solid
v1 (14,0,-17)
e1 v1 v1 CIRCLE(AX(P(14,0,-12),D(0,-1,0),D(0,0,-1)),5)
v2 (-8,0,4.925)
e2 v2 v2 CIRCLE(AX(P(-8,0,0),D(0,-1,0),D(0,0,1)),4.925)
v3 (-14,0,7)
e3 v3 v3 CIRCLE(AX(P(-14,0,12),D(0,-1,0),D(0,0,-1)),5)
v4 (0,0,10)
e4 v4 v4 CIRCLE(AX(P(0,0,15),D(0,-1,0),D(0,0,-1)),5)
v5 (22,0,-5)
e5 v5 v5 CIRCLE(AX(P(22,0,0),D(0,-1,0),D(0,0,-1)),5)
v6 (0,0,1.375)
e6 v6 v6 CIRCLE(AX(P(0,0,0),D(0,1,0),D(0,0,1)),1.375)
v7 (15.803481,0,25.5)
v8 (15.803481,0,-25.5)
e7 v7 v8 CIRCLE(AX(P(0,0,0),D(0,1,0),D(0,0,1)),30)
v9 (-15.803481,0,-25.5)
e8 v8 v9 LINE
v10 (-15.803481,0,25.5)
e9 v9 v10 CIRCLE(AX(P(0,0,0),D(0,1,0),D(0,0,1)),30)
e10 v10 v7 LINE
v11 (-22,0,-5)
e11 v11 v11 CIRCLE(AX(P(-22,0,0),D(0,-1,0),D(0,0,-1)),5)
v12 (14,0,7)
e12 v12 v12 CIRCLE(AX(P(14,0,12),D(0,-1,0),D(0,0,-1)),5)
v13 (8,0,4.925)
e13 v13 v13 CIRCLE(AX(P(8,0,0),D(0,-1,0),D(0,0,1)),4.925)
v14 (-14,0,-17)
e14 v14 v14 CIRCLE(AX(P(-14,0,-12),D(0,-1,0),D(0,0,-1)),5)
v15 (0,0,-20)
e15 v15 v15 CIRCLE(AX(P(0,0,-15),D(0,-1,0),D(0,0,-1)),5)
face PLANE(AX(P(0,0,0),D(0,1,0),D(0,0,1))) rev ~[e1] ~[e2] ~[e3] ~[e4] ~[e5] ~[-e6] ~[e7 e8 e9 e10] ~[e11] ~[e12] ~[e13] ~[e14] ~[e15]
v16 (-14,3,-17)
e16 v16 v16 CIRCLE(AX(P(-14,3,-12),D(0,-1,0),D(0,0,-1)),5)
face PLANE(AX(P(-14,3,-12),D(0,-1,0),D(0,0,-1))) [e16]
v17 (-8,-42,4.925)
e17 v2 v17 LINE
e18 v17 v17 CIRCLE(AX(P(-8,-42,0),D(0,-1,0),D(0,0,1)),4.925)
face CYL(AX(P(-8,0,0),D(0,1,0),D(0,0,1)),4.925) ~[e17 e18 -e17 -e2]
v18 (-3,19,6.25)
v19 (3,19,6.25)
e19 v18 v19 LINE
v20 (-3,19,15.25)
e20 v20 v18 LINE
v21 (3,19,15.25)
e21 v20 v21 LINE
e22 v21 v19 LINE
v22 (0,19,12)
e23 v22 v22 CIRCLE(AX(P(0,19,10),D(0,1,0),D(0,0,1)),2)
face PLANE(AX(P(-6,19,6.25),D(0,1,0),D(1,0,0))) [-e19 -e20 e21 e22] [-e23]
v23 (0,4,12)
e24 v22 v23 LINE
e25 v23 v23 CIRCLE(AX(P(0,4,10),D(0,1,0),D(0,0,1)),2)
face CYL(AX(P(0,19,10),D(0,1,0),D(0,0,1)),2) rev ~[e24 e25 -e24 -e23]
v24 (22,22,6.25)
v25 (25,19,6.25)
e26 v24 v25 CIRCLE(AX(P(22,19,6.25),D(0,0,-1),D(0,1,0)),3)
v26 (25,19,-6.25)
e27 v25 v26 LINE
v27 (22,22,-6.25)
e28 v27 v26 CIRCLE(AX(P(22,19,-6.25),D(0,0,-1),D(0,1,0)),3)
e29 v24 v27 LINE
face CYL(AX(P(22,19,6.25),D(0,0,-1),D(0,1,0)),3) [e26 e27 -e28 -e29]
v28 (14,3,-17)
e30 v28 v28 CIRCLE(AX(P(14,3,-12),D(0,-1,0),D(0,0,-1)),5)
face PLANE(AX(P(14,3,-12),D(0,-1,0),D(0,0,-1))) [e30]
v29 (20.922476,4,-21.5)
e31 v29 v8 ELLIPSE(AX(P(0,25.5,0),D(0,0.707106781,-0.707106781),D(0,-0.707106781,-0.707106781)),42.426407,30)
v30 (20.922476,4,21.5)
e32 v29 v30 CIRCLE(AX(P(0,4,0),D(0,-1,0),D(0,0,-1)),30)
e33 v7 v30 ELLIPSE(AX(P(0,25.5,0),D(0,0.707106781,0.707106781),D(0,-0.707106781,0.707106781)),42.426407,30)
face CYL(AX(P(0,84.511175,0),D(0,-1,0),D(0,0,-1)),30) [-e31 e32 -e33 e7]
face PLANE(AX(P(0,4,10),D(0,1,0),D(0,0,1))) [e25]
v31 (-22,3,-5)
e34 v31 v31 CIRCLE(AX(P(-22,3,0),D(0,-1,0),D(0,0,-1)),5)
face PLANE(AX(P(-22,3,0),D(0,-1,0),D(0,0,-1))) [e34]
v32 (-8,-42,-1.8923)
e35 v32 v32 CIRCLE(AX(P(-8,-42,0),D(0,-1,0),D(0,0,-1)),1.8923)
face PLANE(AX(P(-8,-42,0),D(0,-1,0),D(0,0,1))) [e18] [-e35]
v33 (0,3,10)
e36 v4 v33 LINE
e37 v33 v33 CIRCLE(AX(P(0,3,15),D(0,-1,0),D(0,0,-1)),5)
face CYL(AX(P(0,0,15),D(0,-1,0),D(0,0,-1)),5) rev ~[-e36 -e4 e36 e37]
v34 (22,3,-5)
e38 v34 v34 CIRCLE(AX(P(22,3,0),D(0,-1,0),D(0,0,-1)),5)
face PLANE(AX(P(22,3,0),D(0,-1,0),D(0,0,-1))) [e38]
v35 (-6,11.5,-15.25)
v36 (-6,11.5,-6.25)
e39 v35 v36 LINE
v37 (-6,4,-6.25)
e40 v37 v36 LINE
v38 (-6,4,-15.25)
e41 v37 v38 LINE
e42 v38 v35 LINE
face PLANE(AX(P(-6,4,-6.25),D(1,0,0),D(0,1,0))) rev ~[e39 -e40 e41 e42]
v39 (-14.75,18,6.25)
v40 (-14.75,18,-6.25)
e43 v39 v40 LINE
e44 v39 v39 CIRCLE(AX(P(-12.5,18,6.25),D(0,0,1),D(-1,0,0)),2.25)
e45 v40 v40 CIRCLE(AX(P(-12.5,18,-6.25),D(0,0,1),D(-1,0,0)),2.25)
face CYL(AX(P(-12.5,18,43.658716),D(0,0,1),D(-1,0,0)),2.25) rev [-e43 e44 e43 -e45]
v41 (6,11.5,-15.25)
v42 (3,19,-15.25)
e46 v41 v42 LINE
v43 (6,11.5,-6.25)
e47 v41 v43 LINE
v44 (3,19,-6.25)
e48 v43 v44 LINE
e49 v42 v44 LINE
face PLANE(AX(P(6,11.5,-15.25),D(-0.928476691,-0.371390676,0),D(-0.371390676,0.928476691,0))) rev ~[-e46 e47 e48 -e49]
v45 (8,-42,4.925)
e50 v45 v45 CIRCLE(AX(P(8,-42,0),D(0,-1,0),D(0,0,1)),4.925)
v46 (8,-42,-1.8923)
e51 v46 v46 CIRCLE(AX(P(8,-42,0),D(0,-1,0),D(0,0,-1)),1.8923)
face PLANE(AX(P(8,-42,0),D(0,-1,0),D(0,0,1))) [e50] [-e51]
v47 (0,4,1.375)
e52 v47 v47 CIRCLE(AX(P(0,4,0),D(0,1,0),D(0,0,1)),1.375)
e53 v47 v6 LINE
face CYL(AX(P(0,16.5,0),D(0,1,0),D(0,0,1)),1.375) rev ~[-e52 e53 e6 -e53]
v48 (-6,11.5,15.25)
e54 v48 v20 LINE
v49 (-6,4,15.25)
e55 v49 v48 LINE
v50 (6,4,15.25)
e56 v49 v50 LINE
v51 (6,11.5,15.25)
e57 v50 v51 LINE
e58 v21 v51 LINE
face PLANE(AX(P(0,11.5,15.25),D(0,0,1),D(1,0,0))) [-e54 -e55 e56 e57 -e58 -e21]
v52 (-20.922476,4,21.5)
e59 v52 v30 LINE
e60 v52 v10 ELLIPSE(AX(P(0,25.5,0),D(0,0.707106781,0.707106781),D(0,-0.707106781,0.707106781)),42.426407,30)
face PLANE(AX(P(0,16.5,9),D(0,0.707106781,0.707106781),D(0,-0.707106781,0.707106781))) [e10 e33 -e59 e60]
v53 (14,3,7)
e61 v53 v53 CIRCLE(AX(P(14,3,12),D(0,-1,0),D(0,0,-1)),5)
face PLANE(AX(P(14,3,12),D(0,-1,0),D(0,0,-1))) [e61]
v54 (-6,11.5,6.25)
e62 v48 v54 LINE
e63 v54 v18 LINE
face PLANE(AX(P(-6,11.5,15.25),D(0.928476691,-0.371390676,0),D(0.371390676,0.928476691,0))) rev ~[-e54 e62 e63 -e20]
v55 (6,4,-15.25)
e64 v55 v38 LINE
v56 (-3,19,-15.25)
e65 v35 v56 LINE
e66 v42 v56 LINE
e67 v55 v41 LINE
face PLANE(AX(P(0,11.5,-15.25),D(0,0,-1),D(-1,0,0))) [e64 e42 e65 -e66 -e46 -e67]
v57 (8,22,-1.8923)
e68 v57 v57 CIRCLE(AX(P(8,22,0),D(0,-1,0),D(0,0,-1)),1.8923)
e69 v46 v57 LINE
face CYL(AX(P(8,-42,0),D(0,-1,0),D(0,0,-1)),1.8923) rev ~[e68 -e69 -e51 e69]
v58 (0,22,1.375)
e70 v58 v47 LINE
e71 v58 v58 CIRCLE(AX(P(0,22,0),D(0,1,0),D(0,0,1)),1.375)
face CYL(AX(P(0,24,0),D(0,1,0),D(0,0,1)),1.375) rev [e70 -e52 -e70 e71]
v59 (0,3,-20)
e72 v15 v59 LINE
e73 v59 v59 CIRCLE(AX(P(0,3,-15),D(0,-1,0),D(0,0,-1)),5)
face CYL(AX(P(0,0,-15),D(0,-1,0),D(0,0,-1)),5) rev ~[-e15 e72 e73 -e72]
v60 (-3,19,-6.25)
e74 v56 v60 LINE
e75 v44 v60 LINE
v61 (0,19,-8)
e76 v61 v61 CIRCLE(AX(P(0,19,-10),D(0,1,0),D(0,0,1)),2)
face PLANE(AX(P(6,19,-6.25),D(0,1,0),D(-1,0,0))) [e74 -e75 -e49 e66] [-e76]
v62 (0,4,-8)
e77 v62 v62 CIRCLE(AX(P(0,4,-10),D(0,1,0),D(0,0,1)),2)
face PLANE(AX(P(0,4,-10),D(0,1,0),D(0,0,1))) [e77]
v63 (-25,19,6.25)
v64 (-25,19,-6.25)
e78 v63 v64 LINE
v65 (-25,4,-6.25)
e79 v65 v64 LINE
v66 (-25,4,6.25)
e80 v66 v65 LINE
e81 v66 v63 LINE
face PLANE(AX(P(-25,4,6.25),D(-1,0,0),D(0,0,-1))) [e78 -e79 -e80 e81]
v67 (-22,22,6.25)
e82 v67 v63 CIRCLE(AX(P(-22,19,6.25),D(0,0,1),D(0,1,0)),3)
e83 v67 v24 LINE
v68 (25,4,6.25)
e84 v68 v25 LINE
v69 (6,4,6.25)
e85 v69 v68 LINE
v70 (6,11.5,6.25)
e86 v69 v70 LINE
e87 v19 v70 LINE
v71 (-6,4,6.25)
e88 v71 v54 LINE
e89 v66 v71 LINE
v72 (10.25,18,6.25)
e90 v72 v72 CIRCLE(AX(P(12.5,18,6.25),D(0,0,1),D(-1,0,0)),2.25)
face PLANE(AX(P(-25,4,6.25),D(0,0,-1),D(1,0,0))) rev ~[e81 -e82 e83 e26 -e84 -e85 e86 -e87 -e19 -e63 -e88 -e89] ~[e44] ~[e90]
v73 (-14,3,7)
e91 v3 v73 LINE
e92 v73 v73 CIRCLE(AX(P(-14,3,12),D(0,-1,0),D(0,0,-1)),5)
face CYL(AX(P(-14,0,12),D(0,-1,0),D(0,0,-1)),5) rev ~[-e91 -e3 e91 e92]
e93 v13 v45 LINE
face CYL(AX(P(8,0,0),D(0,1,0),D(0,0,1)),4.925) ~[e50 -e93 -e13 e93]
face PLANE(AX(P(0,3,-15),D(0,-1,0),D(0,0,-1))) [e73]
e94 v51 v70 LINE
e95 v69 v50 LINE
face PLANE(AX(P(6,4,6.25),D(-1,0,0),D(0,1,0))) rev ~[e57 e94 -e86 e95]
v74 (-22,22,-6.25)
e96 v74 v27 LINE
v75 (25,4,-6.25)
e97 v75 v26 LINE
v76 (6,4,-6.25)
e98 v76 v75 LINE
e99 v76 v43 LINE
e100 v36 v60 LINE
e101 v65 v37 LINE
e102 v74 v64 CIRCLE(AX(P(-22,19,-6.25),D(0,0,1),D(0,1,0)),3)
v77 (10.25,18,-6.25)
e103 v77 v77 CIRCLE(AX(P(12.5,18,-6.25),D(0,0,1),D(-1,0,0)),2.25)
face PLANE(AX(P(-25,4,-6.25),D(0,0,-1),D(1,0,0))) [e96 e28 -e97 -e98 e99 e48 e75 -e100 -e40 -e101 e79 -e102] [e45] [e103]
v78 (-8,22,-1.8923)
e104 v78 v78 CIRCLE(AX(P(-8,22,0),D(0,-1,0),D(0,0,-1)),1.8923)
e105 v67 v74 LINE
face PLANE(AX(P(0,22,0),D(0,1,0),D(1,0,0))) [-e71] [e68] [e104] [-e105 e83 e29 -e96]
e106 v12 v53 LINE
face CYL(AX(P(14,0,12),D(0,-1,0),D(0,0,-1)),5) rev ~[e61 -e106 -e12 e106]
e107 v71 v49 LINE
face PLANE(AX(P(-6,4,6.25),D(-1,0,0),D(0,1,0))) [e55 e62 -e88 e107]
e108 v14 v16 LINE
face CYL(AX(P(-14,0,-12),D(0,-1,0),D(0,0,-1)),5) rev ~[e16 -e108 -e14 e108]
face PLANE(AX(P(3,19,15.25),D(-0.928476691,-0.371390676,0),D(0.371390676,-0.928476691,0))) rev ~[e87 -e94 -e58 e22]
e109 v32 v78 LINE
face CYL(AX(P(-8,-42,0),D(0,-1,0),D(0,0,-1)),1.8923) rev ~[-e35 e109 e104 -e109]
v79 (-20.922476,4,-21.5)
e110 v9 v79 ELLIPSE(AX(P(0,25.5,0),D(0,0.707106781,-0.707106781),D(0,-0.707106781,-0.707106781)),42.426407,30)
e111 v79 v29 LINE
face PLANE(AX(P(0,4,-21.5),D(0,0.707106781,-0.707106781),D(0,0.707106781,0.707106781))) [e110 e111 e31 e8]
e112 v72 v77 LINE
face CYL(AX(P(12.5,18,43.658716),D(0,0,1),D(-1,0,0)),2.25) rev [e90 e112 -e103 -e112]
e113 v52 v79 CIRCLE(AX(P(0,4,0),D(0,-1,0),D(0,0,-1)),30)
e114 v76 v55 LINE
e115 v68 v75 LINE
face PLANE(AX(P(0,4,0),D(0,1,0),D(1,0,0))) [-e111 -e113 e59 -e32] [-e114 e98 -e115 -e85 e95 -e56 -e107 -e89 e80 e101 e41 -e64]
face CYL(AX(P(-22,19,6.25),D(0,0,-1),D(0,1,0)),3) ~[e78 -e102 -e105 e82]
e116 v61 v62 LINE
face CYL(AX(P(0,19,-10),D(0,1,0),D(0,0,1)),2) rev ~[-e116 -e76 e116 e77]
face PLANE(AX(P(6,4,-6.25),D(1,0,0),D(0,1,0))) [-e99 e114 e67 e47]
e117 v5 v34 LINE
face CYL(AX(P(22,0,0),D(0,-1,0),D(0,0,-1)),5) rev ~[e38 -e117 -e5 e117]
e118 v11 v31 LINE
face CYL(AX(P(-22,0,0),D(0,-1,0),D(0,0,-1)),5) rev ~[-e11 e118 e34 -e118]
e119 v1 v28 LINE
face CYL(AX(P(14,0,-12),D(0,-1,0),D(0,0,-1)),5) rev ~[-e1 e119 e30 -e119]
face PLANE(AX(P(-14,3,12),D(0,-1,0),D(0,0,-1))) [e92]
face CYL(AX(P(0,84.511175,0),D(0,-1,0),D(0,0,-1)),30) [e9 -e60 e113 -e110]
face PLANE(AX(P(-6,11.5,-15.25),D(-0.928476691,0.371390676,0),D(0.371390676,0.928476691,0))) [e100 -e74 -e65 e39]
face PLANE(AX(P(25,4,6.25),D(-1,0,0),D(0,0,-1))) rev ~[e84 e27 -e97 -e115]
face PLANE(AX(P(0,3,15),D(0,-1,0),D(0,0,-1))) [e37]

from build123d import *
from build123d.topology import SkipClean

# Parameters (mm, degrees)
SKETCH1_R                            = 30
BOSS_EXTRUDE1_DEPTH                  = 4
BOSS_EXTRUDE2_REACH                  = 44.615
BOSS_EXTRUDE2_END_RADIUS             = 30
BOSS_EXTRUDE2_DIRECTION_2_REACH      = 44.615
BOSS_EXTRUDE2_DIRECTION_2_END_RADIUS = 30
SKETCH3_OUTSIDE_W                    = 78.092
SKETCH3_OUTSIDE_H                    = 69.092
SKETCH3_OUTSIDE_R                    = 21.5
CUT_EXTRUDE2_DEPTH                   = 12.5
BOSS_EXTRUDE3_DEPTH                  = 18
BOSS_EXTRUDE4_DEPTH                  = 15
BOSS_EXTRUDE5_DEPTH                  = 15
CUT_EXTRUDE3_DEPTH                   = 44.292609069
CUT_EXTRUDE3_DEPTH_BACK              = 44.292609069
SKETCH8_R                            = 2
CUT_EXTRUDE8_DEPTH                   = 48.077064479
CUT_EXTRUDE8_DEPTH_BACK              = 48.077064479
CUT_EXTRUDE9_DEPTH                   = 59.659818207
CUT_EXTRUDE11_DEPTH                  = 20
CUT_EXTRUDE12_DEPTH                  = 20
CUT_EXTRUDE13_DEPTH                  = 20
CUT_EXTRUDE14_DEPTH                  = 44.292609069
CUT_EXTRUDE14_DEPTH_BACK             = 44.292609069
SKETCH25_W                           = 66.075437062
SKETCH25_H                           = 20.142243048
SKETCH27_R                           = 1.375
CUT_EXTRUDE16_DEPTH                  = 30
SKETCH28_R                           = 5
CUT_EXTRUDE17_DEPTH                  = 3
CUT_EXTRUDE18_DEPTH                  = 43.690748412
CUT_EXTRUDE18_DEPTH_BACK             = 43.690748412
SKETCH29_W                           = 43.412566799
SKETCH29_H                           = 13.326200919
SKETCH32_W                           = 50
SKETCH32_H                           = 12.5
BOSS_EXTRUDE6_DEPTH                  = 18
SKETCH35_W                           = 12
SKETCH35_H                           = 15
BOSS_EXTRUDE7_DEPTH                  = 9
CUT_EXTRUDE19_DEPTH                  = 49.908715992
CUT_EXTRUDE19_DEPTH_BACK             = 49.908715992
SKETCH37_R                           = 2.25
SKETCH36_R                           = 2
CUT_EXTRUDE20_DEPTH                  = 15
SKETCH39_W                           = 12
SKETCH39_H                           = 15
BOSS_EXTRUDE8_DEPTH                  = 9
SKETCH40_R                           = 2
CUT_EXTRUDE21_DEPTH                  = 15
FILLET1_R                            = 3
FILLET2_R                            = 3
CUT_EXTRUDE24_START                  = -20
SKETCH44_R                           = 1.375
CUT_EXTRUDE24_DEPTH                  = 20
SKETCH45_R                           = 4.925
BOSS_EXTRUDE9_DEPTH                  = 42
SKETCH46_R                           = 1.8923
CUT_EXTRUDE25_DEPTH                  = 76.2
SKETCH47_R                           = 1.8923
CUT_EXTRUDE26_DEPTH                  = 76.2
CUT_EXTRUDE32_DEPTH                  = 9
CUT_EXTRUDE33_DEPTH                  = 9
CUT_EXTRUDE34_DEPTH                  = 9
CUT_EXTRUDE35_DEPTH                  = 9


with BuildPart() as part:
    # Sketch1 → Boss-Extrude1 (new body)
    with BuildSketch(Plane(origin=(0, 0, 0), x_dir=(1, 0, 0), z_dir=(0, 1, 0))):
        with Locations(Location((0, 0, 0), (0, 0, 270))):
            Circle(SKETCH1_R)
    extrude(amount=BOSS_EXTRUDE1_DEPTH)

    # Boss-Extrude2: up to this cylinder (the profile starts inside it)
    with SkipClean():  # the faces are left unmerged after this step: merging them gives an invalid solid
        boss_extrude2_end = Plane(origin=(0, 9.396175, 0), z_dir=(0, -1, 0)) * Cylinder(BOSS_EXTRUDE2_END_RADIUS, 150.23, mode=Mode.PRIVATE)
        # Sketch2 → Boss-Extrude2 (add, up to the surface)
        with BuildSketch(Plane(origin=(0, 0, 0), x_dir=(0, 0, -1), z_dir=(1, 0, 0)), mode=Mode.PRIVATE) as boss_extrude2_sk1:
            Polygon((0, 4), (21.5, 4), (9, 16.5), (-9, 16.5), (-21.5, 4), align=None)
        boss_extrude2_tool1 = extrude(boss_extrude2_sk1.sketch, amount=BOSS_EXTRUDE2_REACH, mode=Mode.PRIVATE) & boss_extrude2_end
        add(boss_extrude2_tool1.solids().sort_by_distance((0, 9.396175, 0))[0])

    # Boss-Extrude2 direction 2: up to this cylinder (the profile starts inside it)
    with SkipClean():  # the faces are left unmerged after this step: merging them gives an invalid solid
        boss_extrude2_direction_2_end = Plane(origin=(0, 9.396175, 0), z_dir=(0, -1, 0)) * Cylinder(BOSS_EXTRUDE2_DIRECTION_2_END_RADIUS, 150.23, mode=Mode.PRIVATE)
        # Sketch2 → Boss-Extrude2 direction 2 (add, up to the surface)
        with BuildSketch(Plane(origin=(0, 0, 0), x_dir=(0, 0, -1), z_dir=(1, 0, 0)), mode=Mode.PRIVATE) as boss_extrude2_direction_2_sk1:
            Polygon((0, 4), (21.5, 4), (9, 16.5), (-9, 16.5), (-21.5, 4), align=None)
        boss_extrude2_direction_2_tool1 = extrude(boss_extrude2_direction_2_sk1.sketch, amount=-BOSS_EXTRUDE2_DIRECTION_2_REACH, mode=Mode.PRIVATE) & boss_extrude2_direction_2_end
        add(boss_extrude2_direction_2_tool1.solids().sort_by_distance((0, 9.396175, 0))[0])

    # SurfaceCut1
    split(bisect_by=Plane(origin=(0, 12.75, -12.75), x_dir=(1, 0, 0), z_dir=(0, 0.7071067811865558, -0.7071067811865392)), keep=Keep.BOTTOM)

    # SurfaceCut2
    split(bisect_by=Plane(origin=(0, 12.75, 12.75), x_dir=(1, 0, 0), z_dir=(0, 0.7071067811865509, 0.7071067811865442)), keep=Keep.BOTTOM)

    # Sketch3 outside → Cut-Extrude2 (cut)
    with BuildSketch(Plane(origin=(0, 4, 0), x_dir=(1, 0, 0), z_dir=(0, 1, 0))):
        Rectangle(SKETCH3_OUTSIDE_W, SKETCH3_OUTSIDE_H)
        Circle(SKETCH3_OUTSIDE_R, mode=Mode.SUBTRACT)
    extrude(amount=CUT_EXTRUDE2_DEPTH, mode=Mode.SUBTRACT)

    # Sketch5 → Boss-Extrude3 (add)
    with BuildSketch(Plane(origin=(0, 0, 0), x_dir=(-1, 0, 0), z_dir=(0, -1, 0))):
        Polygon((0, -6), (-17.5, -6), (-17.5, 6), (17.5, 6), (17.5, -6), align=None)
    extrude(amount=BOSS_EXTRUDE3_DEPTH)

    # Sketch6 → Boss-Extrude4 (add)
    with BuildSketch(Plane.XZ):
        Polygon((0, 15), (7, 15), (7, 6), (-7, 6), (-7, 15), align=None)
    extrude(amount=BOSS_EXTRUDE4_DEPTH)

    # Sketch7 → Boss-Extrude5 (add)
    with BuildSketch(Plane.XZ):
        Polygon((0, -15), (7, -15), (7, -6), (-7, -6), (-7, -15), align=None)
    extrude(amount=BOSS_EXTRUDE5_DEPTH)

    # Sketch8 → Cut-Extrude3 (cut, two sides: drawn at the far end of the back side and taken through both)
    with BuildSketch(Plane.XY.offset(-CUT_EXTRUDE3_DEPTH_BACK)):
        with Locations((-12.5, -12.5)):
            Circle(SKETCH8_R)
        with Locations((12.5, -12.5)):
            Circle(SKETCH8_R)
    extrude(amount=CUT_EXTRUDE3_DEPTH + CUT_EXTRUDE3_DEPTH_BACK, mode=Mode.SUBTRACT)

    # Sketch16 → Cut-Extrude8 (cut, two sides: drawn at the far end of the back side and taken through both)
    with BuildSketch(Plane.XY.offset(6).offset(-CUT_EXTRUDE8_DEPTH_BACK)):
        Polygon((17.5, -18), (17.5, -14.5), (14, -18), align=None)
        Polygon((-17.5, -18), (-14, -18), (-17.5, -14.5), align=None)
    extrude(amount=CUT_EXTRUDE8_DEPTH + CUT_EXTRUDE8_DEPTH_BACK, mode=Mode.SUBTRACT)

    # Sketch17 → Cut-Extrude9 (cut, through all)
    with BuildSketch(Plane(origin=(10.365975269, -9.674910251, -8.062425209), x_dir=(-0.3613483622370374, 0.337258471421235, -0.8693009171531012), z_dir=(0.6355070151731325, -0.5931398808282571, -0.49428323402354774))):
        Polygon((-2.372510104, -6.189601271), (7.980636686, -0.706686759), (7.980636686, -10.965829024), align=None)
    extrude(amount=CUT_EXTRUDE9_DEPTH, mode=Mode.SUBTRACT)

    # Sketch19 → Cut-Extrude11 (cut)
    with BuildSketch(Plane(origin=(-10.365975269, -9.674910251, -8.062425209), x_dir=(0.3613483622370374, 0.33725847142123494, -0.8693009171531012), z_dir=(0.6355070151731324, 0.5931398808282571, 0.4942832340235476))):
        Polygon((-2.372510104, -6.189601271), (7.980636686, -10.965829024), (7.980636686, -0.706686759), align=None)
    extrude(amount=-CUT_EXTRUDE11_DEPTH, mode=Mode.SUBTRACT)

    # Sketch20 → Cut-Extrude12 (cut)
    with BuildSketch(Plane(origin=(-10.365975269, -9.674910251, 8.062425209), x_dir=(-0.3613483622370374, -0.3372584714212349, -0.8693009171531013), z_dir=(0.6355070151731326, 0.593139880828257, -0.49428323402354757))):
        Polygon((2.372510104, -6.189601271), (-7.980636686, -0.706686759), (-7.980636686, -10.965829024), align=None)
    extrude(amount=-CUT_EXTRUDE12_DEPTH, mode=Mode.SUBTRACT)

    # Sketch21 → Cut-Extrude13 (cut)
    with BuildSketch(Plane(origin=(10.365975269, -9.674910251, 8.062425209), x_dir=(-0.3613483622370374, 0.3372584714212349, 0.8693009171531013), z_dir=(-0.6355070151731326, 0.593139880828257, -0.49428323402354757))):
        Polygon((-2.372510104, -6.189601271), (7.980636686, -0.706686759), (7.980636686, -10.965829024), align=None)
    extrude(amount=-CUT_EXTRUDE13_DEPTH, mode=Mode.SUBTRACT)

    # Sketch25 → Cut-Extrude14 (cut, two sides: drawn at the far end of the back side and taken through both)
    with BuildSketch(Plane.XY.offset(-CUT_EXTRUDE14_DEPTH_BACK)):
        with Locations((0, -10.071121524)):
            Rectangle(SKETCH25_W, SKETCH25_H)
    extrude(amount=CUT_EXTRUDE14_DEPTH + CUT_EXTRUDE14_DEPTH_BACK, mode=Mode.SUBTRACT)

    # Sketch27 → Cut-Extrude16 (cut)
    with BuildSketch(Plane(origin=(0, 16.5, 0), x_dir=(1, 0, 0), z_dir=(0, 1, 0))):
        with Locations(Location((0, 0, 0), (0, 0, 270))):
            Circle(SKETCH27_R)
    extrude(amount=-CUT_EXTRUDE16_DEPTH, mode=Mode.SUBTRACT)

    # Sketch28 → Cut-Extrude17 (cut)
    with BuildSketch(Plane.XZ):
        with Locations(Location((0, -15, 0), (0, 0, 270))):
            Circle(SKETCH28_R)
        with Locations(Location((22, 0, 0), (0, 0, 270))):
            Circle(SKETCH28_R)
        with Locations(Location((0, 15, 0), (0, 0, 270))):
            Circle(SKETCH28_R)
        with Locations(Location((-22, 0, 0), (0, 0, 270))):
            Circle(SKETCH28_R)
        with Locations(Location((-14, 12, 0), (0, 0, 270))):
            Circle(SKETCH28_R)
        with Locations(Location((14, 12, 0), (0, 0, 270))):
            Circle(SKETCH28_R)
        with Locations(Location((14, -12, 0), (0, 0, 270))):
            Circle(SKETCH28_R)
        with Locations(Location((-14, -12, 0), (0, 0, 270))):
            Circle(SKETCH28_R)
    extrude(amount=-CUT_EXTRUDE17_DEPTH, mode=Mode.SUBTRACT)

    # Sketch29 → Cut-Extrude18 (cut, two sides: drawn at the far end of the back side and taken through both)
    with BuildSketch(Plane(origin=(0, 0, 0), x_dir=(0, 0, -1), z_dir=(1, 0, 0)).offset(-CUT_EXTRUDE18_DEPTH_BACK)):
        with Locations((0.2062834, 10.66310046)):
            Rectangle(SKETCH29_W, SKETCH29_H)
    extrude(amount=CUT_EXTRUDE18_DEPTH + CUT_EXTRUDE18_DEPTH_BACK, mode=Mode.SUBTRACT)

    # Sketch32 → Boss-Extrude6 (add)
    with BuildSketch(Plane(origin=(0, 4, 0), x_dir=(1, 0, 0), z_dir=(0, 1, 0))):
        Rectangle(SKETCH32_W, SKETCH32_H)
    extrude(amount=BOSS_EXTRUDE6_DEPTH)

    # Sketch35 → Boss-Extrude7 (add)
    with BuildSketch(Plane(origin=(0, 0, -6.25), x_dir=(-1, 0, 0), z_dir=(0, 0, -1))):
        with Locations((0, 11.5)):
            Rectangle(SKETCH35_W, SKETCH35_H)
    extrude(amount=BOSS_EXTRUDE7_DEPTH)

    # Sketch37 → Cut-Extrude19 (cut, two sides: drawn at the far end of the back side and taken through both)
    with BuildSketch(Plane(origin=(0, 0, -6.25), x_dir=(-1, 0, 0), z_dir=(0, 0, -1)).offset(-CUT_EXTRUDE19_DEPTH_BACK)):
        with Locations((-12.5, 18)):
            Circle(SKETCH37_R)
        with Locations((12.5, 18)):
            Circle(SKETCH37_R)
    extrude(amount=CUT_EXTRUDE19_DEPTH + CUT_EXTRUDE19_DEPTH_BACK, mode=Mode.SUBTRACT)

    # Sketch36 → Cut-Extrude20 (cut)
    with BuildSketch(Plane(origin=(0, 19, 0), x_dir=(1, 0, 0), z_dir=(0, 1, 0))):
        with Locations(Location((0, 10, 0), (0, 0, 270))):
            Circle(SKETCH36_R)
    extrude(amount=-CUT_EXTRUDE20_DEPTH, mode=Mode.SUBTRACT)

    # Sketch39 → Boss-Extrude8 (add)
    with BuildSketch(Plane.XY.offset(6.25)):
        with Locations((0, 11.5)):
            Rectangle(SKETCH39_W, SKETCH39_H)
    extrude(amount=BOSS_EXTRUDE8_DEPTH)

    # Sketch40 → Cut-Extrude21 (cut)
    with BuildSketch(Plane(origin=(0, 19, 0), x_dir=(1, 0, 0), z_dir=(0, 1, 0))):
        with Locations(Location((0, -10, 0), (0, 0, 270))):
            Circle(SKETCH40_R)
    extrude(amount=-CUT_EXTRUDE21_DEPTH, mode=Mode.SUBTRACT)

    # Fillet1
    fillet1_edges = [part.edges().sort_by_distance(p)[0] for p in [
        (25, 22, 0),
    ]]
    fillet(fillet1_edges, radius=FILLET1_R)

    # Fillet2
    fillet2_edges = [part.edges().sort_by_distance(p)[0] for p in [
        (-25, 22, 0),
    ]]
    fillet(fillet2_edges, radius=FILLET2_R)

    # Sketch44 → Cut-Extrude24 (cut)
    with BuildSketch(Plane.XZ.offset(-4).offset(CUT_EXTRUDE24_START)):
        with Locations(Location((0, 0, 0), (0, 0, 90))):
            Circle(SKETCH44_R)
    extrude(amount=CUT_EXTRUDE24_DEPTH, mode=Mode.SUBTRACT)

    # Sketch45 → Boss-Extrude9 (add)
    with BuildSketch(Plane.XZ):
        with Locations(Location((-8, 0, 0), (0, 0, 90))):
            Circle(SKETCH45_R)
        with Locations(Location((8, 0, 0), (0, 0, 90))):
            Circle(SKETCH45_R)
    extrude(amount=BOSS_EXTRUDE9_DEPTH)

    # Sketch46 → Cut-Extrude25 (cut)
    with BuildSketch(Plane.XZ.offset(42)):
        with Locations(Location((-8, 0, 0), (0, 0, 270))):
            Circle(SKETCH46_R)
    extrude(amount=-CUT_EXTRUDE25_DEPTH, mode=Mode.SUBTRACT)

    # Sketch47 → Cut-Extrude26 (cut)
    with BuildSketch(Plane.XZ.offset(42)):
        with Locations(Location((8, 0, 0), (0, 0, 270))):
            Circle(SKETCH47_R)
    extrude(amount=-CUT_EXTRUDE26_DEPTH, mode=Mode.SUBTRACT)

    # Sketch58 → Cut-Extrude32 (cut)
    with BuildSketch(Plane(origin=(0, 0, -15.25), x_dir=(-1, 0, 0), z_dir=(0, 0, -1))):
        Polygon((6, 19), (6, 11.5), (3, 19), align=None)
    extrude(amount=-CUT_EXTRUDE32_DEPTH, mode=Mode.SUBTRACT)

    # Sketch59 → Cut-Extrude33 (cut)
    with BuildSketch(Plane(origin=(0, 0, -15.25), x_dir=(-1, 0, 0), z_dir=(0, 0, -1))):
        Polygon((-6, 19), (-6, 11.5), (-3, 19), align=None)
    extrude(amount=-CUT_EXTRUDE33_DEPTH, mode=Mode.SUBTRACT)

    # Sketch60 → Cut-Extrude34 (cut)
    with BuildSketch(Plane.XY.offset(15.25)):
        Polygon((6, 11.5), (6, 19), (3, 19), align=None)
    extrude(amount=-CUT_EXTRUDE34_DEPTH, mode=Mode.SUBTRACT)

    # Sketch61 → Cut-Extrude35 (cut)
    with BuildSketch(Plane.XY.offset(15.25)):
        Polygon((-6, 19), (-6, 11.5), (-3, 19), align=None)
    extrude(amount=-CUT_EXTRUDE35_DEPTH, mode=Mode.SUBTRACT)


solid = part.part
